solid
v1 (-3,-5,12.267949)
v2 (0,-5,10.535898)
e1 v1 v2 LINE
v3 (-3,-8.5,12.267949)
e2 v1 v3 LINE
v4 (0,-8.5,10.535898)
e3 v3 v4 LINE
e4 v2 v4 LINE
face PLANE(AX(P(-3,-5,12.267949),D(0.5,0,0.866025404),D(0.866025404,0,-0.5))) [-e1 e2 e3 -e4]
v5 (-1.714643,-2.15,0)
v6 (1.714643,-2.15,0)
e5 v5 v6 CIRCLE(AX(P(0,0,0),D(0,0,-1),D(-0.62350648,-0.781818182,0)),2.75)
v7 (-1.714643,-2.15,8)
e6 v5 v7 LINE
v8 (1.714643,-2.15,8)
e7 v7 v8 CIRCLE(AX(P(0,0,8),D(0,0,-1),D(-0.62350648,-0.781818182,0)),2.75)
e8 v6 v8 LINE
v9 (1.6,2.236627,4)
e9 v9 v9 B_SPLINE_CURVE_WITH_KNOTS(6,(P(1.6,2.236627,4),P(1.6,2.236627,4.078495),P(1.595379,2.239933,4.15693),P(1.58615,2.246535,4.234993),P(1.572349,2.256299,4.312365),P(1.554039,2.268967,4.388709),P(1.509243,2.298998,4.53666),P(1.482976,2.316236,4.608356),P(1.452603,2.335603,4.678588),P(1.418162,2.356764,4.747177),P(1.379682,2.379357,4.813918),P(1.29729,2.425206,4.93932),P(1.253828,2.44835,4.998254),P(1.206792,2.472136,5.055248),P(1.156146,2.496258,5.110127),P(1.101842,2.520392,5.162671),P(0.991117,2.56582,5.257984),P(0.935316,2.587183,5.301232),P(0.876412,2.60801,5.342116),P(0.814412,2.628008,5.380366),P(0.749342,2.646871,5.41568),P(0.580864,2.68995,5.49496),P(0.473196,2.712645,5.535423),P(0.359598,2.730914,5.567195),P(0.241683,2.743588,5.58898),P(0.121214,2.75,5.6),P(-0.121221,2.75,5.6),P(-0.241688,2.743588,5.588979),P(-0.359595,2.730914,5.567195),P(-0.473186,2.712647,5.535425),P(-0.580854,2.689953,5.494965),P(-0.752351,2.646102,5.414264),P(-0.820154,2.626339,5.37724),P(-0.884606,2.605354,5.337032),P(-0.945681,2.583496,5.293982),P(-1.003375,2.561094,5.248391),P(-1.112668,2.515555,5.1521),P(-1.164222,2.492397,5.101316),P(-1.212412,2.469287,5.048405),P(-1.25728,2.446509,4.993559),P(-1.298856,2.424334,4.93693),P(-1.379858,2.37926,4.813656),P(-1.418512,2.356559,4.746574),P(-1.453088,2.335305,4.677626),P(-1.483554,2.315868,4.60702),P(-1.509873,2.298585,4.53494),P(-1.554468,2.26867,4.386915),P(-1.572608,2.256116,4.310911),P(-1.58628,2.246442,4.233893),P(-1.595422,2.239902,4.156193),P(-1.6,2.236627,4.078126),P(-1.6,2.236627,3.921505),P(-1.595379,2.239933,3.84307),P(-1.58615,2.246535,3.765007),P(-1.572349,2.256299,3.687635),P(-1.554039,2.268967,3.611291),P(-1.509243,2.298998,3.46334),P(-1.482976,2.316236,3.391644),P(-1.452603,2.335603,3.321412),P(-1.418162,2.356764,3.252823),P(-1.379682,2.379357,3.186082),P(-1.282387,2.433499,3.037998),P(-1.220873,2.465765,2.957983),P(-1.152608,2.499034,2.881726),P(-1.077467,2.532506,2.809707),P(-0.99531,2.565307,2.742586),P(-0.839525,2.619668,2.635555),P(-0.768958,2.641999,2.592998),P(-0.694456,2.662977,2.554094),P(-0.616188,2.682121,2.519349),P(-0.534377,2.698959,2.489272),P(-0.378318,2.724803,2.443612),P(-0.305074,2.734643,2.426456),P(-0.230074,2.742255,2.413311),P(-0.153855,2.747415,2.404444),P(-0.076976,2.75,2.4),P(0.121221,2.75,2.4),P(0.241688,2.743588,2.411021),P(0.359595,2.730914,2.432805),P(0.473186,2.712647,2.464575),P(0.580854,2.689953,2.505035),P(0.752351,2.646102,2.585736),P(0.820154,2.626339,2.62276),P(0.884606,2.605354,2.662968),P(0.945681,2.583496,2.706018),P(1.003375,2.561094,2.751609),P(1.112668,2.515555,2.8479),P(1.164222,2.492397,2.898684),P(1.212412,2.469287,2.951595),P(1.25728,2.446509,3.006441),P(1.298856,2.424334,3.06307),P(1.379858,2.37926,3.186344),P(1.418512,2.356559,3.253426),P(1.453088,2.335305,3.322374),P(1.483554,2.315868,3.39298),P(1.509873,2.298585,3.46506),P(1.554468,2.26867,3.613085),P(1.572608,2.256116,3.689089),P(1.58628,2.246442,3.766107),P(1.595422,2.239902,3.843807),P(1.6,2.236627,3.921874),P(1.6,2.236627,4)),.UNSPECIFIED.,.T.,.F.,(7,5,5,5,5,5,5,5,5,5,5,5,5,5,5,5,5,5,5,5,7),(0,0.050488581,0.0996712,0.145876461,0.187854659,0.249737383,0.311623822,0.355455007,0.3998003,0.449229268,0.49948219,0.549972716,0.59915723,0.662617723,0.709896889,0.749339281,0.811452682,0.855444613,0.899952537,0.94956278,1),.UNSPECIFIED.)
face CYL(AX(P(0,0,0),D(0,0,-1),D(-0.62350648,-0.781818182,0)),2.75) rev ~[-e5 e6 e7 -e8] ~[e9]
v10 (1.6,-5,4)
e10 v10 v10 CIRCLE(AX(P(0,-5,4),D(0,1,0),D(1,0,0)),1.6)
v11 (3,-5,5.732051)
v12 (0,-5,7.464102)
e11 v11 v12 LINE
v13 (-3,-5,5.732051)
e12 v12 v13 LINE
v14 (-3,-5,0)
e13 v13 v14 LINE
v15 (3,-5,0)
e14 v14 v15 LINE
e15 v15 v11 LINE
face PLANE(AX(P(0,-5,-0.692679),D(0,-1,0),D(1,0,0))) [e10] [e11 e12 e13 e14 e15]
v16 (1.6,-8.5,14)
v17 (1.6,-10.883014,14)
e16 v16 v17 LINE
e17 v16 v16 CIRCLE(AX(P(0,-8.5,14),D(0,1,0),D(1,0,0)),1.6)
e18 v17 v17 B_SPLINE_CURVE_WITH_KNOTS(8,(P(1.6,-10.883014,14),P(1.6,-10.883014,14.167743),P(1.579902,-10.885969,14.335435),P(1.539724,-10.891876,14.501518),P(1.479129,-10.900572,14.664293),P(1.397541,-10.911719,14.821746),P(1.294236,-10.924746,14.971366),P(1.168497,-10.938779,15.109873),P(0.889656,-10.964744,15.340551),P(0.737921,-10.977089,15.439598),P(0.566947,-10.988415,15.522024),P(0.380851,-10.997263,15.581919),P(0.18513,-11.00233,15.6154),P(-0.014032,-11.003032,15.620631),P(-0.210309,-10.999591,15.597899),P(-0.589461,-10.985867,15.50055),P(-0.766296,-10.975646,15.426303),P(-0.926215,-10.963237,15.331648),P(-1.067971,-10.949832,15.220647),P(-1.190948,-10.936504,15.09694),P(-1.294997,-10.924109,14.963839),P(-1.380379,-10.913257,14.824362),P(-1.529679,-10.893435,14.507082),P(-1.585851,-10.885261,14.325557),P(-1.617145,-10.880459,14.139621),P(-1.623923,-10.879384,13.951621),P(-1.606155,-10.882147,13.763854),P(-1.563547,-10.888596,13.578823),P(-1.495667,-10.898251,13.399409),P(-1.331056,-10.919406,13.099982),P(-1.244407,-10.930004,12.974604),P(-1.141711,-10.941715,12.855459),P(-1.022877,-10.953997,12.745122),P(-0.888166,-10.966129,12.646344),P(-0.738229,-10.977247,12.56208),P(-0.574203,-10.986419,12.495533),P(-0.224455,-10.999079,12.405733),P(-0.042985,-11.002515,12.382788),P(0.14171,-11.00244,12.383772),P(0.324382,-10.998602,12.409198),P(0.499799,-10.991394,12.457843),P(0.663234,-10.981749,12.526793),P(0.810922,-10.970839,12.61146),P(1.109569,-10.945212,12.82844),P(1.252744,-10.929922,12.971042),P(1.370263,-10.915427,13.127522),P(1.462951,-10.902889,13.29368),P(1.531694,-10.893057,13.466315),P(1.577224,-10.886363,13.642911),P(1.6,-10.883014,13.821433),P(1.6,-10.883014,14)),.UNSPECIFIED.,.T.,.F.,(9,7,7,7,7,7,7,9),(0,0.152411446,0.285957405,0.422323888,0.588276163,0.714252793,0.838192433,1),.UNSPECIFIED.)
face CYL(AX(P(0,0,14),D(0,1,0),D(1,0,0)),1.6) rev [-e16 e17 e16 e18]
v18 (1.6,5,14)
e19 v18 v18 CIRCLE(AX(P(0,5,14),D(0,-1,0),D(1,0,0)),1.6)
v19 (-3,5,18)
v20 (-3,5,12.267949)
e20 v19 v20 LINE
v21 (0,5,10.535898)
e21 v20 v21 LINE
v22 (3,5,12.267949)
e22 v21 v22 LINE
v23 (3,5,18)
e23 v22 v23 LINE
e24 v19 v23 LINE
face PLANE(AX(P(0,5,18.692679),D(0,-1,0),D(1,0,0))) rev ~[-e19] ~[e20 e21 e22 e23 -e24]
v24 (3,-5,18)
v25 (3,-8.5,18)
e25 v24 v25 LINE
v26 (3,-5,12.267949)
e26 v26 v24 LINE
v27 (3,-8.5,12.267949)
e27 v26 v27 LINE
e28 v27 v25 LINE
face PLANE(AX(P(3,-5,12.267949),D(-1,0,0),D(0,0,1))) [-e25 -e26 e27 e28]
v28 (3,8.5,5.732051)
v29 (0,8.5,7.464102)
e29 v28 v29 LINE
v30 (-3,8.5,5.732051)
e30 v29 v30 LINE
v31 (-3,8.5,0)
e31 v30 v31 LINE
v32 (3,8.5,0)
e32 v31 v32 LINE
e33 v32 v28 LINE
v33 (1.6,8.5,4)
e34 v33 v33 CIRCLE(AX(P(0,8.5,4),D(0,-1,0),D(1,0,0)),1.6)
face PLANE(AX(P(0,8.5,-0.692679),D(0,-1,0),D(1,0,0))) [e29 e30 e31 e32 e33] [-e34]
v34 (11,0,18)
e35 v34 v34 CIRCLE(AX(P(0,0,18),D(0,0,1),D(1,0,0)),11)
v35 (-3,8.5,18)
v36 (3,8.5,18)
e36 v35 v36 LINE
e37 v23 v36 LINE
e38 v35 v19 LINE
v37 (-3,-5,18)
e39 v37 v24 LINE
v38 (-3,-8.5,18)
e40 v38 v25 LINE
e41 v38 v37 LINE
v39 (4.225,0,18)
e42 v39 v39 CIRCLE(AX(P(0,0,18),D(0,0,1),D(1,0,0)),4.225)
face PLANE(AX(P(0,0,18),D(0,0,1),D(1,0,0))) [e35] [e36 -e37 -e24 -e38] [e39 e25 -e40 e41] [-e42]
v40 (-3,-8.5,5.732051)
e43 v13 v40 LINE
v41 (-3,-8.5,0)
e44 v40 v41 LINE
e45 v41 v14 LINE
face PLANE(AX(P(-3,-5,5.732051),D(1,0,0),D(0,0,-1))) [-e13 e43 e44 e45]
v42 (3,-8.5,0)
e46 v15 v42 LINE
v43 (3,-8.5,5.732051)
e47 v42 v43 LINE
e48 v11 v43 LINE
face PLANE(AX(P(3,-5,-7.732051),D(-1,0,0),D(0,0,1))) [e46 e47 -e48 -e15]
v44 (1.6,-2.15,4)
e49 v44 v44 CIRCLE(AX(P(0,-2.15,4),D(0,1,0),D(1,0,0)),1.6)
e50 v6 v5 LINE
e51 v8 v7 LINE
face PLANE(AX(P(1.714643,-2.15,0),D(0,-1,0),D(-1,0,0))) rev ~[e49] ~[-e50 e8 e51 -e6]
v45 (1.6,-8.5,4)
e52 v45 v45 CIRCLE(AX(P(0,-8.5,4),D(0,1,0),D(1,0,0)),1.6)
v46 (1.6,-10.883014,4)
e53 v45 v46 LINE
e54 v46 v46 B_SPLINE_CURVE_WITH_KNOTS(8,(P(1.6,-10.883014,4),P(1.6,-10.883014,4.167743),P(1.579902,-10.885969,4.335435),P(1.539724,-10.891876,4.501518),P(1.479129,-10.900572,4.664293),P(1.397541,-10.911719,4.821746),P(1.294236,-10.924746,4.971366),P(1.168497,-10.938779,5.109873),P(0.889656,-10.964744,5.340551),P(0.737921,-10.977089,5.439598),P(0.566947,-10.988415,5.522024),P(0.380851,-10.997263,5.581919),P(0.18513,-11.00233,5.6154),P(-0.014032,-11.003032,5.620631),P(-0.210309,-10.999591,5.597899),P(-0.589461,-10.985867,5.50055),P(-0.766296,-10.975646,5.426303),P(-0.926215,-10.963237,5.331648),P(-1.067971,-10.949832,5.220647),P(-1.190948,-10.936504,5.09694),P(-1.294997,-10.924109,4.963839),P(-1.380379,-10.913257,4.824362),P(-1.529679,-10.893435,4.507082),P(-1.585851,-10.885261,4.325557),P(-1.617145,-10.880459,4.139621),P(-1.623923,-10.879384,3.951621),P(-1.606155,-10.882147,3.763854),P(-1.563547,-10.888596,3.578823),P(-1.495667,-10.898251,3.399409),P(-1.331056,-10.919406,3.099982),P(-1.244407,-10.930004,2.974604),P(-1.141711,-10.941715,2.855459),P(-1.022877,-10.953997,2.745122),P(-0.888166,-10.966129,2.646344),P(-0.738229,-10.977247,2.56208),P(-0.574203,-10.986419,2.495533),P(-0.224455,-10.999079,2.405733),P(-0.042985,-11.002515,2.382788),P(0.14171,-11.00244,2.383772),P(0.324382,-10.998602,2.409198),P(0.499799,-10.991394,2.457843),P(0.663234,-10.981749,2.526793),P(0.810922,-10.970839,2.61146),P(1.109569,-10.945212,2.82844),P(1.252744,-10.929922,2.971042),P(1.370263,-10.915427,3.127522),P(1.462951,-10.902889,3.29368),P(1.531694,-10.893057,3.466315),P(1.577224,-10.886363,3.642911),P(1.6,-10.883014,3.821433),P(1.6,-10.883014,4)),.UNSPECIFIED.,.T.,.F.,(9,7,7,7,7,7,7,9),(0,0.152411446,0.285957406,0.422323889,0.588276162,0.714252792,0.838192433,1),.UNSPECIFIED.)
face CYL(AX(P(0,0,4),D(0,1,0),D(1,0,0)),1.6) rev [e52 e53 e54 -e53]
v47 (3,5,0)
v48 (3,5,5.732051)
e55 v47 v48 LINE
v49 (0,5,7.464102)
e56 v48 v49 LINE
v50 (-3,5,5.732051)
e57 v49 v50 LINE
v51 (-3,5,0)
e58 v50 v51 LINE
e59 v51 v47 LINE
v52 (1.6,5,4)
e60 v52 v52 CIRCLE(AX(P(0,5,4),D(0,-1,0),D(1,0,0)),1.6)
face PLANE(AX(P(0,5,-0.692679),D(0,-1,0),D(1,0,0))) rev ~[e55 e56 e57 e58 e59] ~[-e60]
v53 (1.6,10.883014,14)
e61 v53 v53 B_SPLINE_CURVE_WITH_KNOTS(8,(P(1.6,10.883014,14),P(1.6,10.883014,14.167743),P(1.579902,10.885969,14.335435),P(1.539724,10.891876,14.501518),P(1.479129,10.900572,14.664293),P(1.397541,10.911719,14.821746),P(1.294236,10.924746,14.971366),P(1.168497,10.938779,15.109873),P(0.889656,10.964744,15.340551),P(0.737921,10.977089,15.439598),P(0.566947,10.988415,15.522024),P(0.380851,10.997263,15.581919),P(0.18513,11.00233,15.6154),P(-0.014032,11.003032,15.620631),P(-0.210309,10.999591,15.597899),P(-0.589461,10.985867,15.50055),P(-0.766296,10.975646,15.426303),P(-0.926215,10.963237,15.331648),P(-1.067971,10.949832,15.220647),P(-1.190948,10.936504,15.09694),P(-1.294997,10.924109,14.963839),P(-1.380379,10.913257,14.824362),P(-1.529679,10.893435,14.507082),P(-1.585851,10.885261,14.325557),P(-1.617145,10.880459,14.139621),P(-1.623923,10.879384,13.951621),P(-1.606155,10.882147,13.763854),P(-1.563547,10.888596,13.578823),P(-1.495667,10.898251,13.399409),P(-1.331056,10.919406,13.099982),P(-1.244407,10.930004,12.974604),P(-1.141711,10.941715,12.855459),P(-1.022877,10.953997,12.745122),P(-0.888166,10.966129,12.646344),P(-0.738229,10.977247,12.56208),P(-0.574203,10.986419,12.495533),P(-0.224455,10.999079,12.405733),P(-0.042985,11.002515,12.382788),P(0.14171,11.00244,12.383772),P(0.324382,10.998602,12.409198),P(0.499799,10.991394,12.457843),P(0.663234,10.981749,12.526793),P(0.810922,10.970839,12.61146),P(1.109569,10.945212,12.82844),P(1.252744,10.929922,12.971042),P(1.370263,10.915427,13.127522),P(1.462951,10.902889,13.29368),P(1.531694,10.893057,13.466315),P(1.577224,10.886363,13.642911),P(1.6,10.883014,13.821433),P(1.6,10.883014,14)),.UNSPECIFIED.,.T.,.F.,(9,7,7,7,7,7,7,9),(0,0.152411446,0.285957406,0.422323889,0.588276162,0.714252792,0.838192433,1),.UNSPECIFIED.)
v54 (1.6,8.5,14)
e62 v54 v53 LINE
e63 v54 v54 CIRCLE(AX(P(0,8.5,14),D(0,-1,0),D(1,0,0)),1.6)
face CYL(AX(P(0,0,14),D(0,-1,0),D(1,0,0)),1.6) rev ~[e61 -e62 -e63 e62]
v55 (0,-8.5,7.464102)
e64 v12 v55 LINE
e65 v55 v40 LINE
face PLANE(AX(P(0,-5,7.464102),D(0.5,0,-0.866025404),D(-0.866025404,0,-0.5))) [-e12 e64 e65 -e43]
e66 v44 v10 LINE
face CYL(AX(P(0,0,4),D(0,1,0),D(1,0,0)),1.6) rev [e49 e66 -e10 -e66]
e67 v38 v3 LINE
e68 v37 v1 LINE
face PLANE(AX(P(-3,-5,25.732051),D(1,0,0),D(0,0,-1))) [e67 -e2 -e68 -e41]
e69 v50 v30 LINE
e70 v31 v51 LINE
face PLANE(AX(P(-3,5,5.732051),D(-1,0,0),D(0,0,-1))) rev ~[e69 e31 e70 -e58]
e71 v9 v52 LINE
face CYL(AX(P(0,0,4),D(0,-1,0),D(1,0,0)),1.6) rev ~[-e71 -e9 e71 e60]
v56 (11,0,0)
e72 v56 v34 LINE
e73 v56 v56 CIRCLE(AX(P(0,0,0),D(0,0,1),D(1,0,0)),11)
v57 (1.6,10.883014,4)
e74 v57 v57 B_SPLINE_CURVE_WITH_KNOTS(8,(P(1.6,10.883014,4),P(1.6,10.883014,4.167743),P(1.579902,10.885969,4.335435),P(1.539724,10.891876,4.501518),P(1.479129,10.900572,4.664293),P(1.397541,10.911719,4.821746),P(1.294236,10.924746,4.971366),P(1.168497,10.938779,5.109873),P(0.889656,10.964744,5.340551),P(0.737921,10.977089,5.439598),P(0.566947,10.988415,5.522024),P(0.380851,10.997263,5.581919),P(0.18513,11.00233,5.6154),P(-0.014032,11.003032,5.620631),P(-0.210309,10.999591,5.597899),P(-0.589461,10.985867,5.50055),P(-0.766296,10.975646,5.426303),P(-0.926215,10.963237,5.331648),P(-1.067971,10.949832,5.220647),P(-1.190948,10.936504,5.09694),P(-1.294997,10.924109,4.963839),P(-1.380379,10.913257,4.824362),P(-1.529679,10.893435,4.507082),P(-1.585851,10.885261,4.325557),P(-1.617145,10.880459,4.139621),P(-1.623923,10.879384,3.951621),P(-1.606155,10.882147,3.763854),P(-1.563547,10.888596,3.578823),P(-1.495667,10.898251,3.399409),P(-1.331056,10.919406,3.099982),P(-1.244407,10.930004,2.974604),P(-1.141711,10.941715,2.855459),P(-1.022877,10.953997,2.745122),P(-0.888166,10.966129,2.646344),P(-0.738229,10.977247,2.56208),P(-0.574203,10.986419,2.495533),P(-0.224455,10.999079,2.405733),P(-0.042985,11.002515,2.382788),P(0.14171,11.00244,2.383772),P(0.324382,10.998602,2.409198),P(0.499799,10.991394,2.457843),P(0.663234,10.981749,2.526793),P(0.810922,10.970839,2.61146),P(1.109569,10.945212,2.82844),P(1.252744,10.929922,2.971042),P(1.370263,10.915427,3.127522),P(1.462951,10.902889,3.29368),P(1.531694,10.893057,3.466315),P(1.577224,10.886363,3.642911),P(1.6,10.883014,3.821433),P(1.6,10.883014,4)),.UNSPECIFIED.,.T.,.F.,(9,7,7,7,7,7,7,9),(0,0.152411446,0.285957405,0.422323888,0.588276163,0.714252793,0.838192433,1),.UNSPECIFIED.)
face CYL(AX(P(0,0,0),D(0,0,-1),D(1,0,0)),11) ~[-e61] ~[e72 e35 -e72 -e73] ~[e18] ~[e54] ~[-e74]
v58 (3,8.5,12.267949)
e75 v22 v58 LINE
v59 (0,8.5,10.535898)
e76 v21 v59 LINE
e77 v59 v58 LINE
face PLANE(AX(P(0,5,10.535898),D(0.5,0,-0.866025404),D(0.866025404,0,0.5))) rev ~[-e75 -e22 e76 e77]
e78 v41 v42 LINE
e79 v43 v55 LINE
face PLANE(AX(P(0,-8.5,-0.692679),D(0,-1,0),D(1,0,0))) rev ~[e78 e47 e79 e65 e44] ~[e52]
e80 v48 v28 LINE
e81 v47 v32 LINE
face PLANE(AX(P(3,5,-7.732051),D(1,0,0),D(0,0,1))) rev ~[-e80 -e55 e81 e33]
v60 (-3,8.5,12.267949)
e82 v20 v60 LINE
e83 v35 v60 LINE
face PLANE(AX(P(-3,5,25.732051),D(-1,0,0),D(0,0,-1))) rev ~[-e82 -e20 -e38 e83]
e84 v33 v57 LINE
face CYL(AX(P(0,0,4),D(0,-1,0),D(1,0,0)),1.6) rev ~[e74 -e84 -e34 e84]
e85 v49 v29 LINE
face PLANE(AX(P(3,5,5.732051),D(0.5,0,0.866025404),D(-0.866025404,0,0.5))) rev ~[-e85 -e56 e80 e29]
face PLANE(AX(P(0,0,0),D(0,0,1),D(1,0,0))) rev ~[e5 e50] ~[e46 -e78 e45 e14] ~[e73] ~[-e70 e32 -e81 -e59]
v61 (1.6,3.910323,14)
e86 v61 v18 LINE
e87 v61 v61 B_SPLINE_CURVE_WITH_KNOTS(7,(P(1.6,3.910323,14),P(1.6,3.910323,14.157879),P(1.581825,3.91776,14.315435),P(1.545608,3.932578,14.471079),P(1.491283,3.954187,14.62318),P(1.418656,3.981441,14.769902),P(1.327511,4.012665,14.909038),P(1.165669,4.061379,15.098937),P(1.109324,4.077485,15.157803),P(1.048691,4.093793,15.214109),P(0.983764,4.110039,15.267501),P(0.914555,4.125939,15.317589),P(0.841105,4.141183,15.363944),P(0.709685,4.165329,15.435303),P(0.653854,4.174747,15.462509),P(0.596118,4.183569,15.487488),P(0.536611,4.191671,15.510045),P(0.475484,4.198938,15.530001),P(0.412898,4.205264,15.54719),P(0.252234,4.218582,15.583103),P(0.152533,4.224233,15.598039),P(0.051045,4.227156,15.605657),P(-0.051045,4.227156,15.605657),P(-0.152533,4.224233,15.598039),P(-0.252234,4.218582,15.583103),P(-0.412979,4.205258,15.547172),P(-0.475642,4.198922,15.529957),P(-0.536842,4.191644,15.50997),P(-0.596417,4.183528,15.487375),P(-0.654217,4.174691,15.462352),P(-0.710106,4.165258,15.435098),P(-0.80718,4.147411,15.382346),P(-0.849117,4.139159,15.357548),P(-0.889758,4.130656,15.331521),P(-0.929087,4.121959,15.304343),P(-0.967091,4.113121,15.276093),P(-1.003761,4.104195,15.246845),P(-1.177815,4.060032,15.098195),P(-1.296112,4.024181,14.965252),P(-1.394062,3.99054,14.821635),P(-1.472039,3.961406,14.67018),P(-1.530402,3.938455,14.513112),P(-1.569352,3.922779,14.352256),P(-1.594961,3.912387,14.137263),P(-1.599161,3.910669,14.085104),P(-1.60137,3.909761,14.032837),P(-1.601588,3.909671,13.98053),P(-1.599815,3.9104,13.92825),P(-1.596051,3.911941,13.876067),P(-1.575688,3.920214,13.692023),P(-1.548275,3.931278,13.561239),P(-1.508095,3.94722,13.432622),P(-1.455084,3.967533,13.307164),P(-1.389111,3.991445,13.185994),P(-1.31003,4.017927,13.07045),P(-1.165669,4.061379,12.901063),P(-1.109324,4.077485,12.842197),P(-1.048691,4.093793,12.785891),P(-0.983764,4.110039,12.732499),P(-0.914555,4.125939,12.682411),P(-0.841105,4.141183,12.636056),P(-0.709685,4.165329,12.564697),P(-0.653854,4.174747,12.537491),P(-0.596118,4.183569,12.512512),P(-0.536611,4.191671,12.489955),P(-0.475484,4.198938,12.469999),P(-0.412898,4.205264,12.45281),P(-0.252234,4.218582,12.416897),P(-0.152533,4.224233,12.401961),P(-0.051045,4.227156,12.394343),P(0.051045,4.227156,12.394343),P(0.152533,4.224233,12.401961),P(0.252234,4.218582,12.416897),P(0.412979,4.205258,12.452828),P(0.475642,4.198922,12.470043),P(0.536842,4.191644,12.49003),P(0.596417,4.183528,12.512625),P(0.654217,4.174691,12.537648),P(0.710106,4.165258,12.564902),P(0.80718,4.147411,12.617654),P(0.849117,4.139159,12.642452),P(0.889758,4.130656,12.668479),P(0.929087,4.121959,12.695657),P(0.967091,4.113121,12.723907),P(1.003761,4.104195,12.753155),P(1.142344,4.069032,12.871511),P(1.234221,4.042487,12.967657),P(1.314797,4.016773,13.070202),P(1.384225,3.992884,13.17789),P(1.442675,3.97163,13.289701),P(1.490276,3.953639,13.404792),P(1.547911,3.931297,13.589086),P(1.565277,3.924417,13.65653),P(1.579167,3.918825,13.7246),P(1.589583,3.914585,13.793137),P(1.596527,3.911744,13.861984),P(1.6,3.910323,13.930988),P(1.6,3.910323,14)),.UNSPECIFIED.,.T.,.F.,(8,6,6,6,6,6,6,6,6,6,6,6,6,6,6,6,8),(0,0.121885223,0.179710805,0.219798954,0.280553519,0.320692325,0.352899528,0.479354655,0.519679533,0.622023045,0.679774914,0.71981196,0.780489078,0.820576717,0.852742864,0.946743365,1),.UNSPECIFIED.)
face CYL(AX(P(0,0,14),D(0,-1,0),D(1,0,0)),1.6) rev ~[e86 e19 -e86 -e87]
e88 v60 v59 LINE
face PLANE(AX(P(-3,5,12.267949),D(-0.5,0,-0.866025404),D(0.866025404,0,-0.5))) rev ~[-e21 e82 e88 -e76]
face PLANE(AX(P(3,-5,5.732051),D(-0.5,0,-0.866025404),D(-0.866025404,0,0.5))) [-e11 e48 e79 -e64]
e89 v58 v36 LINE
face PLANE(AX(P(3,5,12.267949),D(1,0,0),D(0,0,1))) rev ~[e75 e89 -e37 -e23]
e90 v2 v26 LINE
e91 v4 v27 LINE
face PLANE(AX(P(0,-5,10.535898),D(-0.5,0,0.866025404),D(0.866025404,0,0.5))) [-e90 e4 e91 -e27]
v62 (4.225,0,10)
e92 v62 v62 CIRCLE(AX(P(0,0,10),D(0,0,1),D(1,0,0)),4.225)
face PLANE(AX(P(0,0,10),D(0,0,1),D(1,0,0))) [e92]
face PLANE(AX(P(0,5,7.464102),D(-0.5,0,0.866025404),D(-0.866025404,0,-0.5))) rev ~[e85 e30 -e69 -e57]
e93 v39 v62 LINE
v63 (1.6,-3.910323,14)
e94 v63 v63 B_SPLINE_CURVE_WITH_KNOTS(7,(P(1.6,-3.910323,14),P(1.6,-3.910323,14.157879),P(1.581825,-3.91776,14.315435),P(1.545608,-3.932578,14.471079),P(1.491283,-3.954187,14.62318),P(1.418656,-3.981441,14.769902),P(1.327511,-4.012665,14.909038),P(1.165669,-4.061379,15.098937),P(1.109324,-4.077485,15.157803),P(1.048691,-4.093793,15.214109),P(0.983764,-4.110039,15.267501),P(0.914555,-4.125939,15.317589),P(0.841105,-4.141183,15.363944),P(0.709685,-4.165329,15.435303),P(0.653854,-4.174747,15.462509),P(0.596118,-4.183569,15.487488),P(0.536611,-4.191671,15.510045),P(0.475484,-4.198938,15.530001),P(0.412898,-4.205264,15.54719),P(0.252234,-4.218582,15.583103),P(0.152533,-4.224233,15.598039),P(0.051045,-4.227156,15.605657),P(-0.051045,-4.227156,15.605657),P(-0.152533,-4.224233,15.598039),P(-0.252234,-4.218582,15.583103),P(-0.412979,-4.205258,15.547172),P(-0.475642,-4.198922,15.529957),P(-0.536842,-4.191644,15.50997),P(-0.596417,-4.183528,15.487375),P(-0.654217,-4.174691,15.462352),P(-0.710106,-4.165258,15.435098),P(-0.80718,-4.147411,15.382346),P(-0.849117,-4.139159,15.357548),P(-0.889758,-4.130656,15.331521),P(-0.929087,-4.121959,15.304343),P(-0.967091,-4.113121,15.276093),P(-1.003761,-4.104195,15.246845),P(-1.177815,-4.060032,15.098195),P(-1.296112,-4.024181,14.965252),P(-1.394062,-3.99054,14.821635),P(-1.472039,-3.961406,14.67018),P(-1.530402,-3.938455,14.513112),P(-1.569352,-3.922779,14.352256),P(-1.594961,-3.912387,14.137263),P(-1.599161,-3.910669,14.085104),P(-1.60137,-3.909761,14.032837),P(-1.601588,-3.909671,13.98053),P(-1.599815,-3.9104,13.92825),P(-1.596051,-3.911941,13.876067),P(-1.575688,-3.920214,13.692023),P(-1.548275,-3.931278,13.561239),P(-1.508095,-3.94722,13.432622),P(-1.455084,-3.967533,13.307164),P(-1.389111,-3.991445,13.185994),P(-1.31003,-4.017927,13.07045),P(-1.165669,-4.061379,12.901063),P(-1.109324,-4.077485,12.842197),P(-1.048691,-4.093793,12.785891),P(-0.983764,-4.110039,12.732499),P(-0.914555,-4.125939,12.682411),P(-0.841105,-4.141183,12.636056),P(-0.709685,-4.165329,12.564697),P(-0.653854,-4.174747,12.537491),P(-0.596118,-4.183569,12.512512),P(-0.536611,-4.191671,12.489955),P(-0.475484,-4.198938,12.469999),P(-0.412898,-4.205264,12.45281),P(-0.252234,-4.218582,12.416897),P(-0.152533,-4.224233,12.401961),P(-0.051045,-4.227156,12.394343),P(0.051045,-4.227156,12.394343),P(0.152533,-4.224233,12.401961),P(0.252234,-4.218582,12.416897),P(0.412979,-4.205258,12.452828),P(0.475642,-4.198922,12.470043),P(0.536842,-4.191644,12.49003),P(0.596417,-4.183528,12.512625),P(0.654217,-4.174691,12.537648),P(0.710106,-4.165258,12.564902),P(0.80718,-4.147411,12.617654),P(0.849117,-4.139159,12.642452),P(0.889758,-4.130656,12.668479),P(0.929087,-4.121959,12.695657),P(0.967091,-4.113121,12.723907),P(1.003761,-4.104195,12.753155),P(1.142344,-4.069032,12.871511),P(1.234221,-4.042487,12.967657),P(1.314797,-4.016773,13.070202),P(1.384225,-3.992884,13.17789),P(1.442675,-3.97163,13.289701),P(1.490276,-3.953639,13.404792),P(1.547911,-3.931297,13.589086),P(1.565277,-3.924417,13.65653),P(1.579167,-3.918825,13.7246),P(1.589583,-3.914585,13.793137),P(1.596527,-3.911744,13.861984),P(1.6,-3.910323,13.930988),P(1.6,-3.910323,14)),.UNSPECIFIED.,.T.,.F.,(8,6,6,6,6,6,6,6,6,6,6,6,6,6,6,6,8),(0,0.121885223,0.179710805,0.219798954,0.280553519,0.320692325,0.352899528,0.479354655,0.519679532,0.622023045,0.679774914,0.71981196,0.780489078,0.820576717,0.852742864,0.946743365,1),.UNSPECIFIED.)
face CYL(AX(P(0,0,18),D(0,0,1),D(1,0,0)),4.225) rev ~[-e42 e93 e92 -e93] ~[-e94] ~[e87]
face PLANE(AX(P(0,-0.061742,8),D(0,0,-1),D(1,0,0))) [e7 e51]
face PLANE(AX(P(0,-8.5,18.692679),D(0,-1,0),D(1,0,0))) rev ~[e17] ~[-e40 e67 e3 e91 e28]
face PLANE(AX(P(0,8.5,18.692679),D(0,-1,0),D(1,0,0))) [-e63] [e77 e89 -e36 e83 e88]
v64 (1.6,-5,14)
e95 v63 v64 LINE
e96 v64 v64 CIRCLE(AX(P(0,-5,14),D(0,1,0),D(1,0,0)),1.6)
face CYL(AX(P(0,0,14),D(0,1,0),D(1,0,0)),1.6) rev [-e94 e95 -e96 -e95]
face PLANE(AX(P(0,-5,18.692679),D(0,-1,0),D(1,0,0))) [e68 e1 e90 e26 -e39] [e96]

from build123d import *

# Parameters (mm, degrees)
F0_R          = 11
F1_DEPTH      = 18
F3_DEPTH      = 8
F4_R          = 4.225
F5_DEPTH      = 8
F6_R          = 1.6
F7_DEPTH      = 25
F7_DEPTH_BACK = 25
F9_START      = 5
F9_DEPTH      = 3.5
F10_START     = -5
F10_DEPTH     = 3.5


with BuildPart() as f1:
    # F0 (on Top) → F1 (new body)
    with BuildSketch(Plane.XY):
        Circle(F0_R)
    extrude(amount=F1_DEPTH)

    # F2 (on face) → F3 (cut)
    with BuildSketch(Plane(origin=(0, 0, 0), x_dir=(1, 0, 0), z_dir=(0, 0, -1))):
        with BuildLine():
            Line((1.7146428199, 2.15), (-1.7146428199, 2.15))
            ThreePointArc((-1.7146428199, 2.15), (0, -2.75), (1.7146428199, 2.15))
        make_face()
    extrude(amount=-F3_DEPTH, mode=Mode.SUBTRACT)

    # F4 (on face) + F0 (on Top) → F5 (cut)
    with BuildSketch(Plane.XY.offset(18)):
        Circle(F4_R)
    with BuildSketch(Plane.XY):
        Circle(F0_R)
    extrude(amount=-F5_DEPTH, mode=Mode.SUBTRACT)

    # F6 (on Front) → F7 (cut, two sides)
    with BuildSketch(Plane.XZ) as f7_sk:
        with Locations((0, 4)):
            Circle(F6_R)
        with Locations((0, 14)):
            Circle(F6_R)
    extrude(amount=F7_DEPTH, mode=Mode.SUBTRACT)
    extrude(f7_sk.sketch, amount=-F7_DEPTH_BACK, mode=Mode.SUBTRACT)

    # F8 (on Front) → F9 (cut)
    with BuildSketch(Plane.XZ.offset(F9_START)):
        Polygon((-3, 5.7320508076), (-3, 2.2679491924), (-3, -7.7320508076), (3, -7.7320508076), (3, 2.2679491924), (3, 5.7320508076), (0, 7.4641016151), align=None)
        Polygon((-3, 15.7320508076), (-3, 12.2679491924), (0, 10.5358983849), (3, 12.2679491924), (3, 15.7320508076), (3, 25.7320508076), (-3, 25.7320508076), align=None)
    extrude(amount=F9_DEPTH, mode=Mode.SUBTRACT)

    # F8 (on Front) → F10 (cut)
    with BuildSketch(Plane.XZ.offset(F10_START)):
        Polygon((-3, 5.7320508076), (-3, 2.2679491924), (-3, -7.7320508076), (3, -7.7320508076), (3, 2.2679491924), (3, 5.7320508076), (0, 7.4641016151), align=None)
        Polygon((-3, 15.7320508076), (-3, 12.2679491924), (0, 10.5358983849), (3, 12.2679491924), (3, 15.7320508076), (3, 25.7320508076), (-3, 25.7320508076), align=None)
    extrude(amount=-F10_DEPTH, mode=Mode.SUBTRACT)


solid = f1.part
